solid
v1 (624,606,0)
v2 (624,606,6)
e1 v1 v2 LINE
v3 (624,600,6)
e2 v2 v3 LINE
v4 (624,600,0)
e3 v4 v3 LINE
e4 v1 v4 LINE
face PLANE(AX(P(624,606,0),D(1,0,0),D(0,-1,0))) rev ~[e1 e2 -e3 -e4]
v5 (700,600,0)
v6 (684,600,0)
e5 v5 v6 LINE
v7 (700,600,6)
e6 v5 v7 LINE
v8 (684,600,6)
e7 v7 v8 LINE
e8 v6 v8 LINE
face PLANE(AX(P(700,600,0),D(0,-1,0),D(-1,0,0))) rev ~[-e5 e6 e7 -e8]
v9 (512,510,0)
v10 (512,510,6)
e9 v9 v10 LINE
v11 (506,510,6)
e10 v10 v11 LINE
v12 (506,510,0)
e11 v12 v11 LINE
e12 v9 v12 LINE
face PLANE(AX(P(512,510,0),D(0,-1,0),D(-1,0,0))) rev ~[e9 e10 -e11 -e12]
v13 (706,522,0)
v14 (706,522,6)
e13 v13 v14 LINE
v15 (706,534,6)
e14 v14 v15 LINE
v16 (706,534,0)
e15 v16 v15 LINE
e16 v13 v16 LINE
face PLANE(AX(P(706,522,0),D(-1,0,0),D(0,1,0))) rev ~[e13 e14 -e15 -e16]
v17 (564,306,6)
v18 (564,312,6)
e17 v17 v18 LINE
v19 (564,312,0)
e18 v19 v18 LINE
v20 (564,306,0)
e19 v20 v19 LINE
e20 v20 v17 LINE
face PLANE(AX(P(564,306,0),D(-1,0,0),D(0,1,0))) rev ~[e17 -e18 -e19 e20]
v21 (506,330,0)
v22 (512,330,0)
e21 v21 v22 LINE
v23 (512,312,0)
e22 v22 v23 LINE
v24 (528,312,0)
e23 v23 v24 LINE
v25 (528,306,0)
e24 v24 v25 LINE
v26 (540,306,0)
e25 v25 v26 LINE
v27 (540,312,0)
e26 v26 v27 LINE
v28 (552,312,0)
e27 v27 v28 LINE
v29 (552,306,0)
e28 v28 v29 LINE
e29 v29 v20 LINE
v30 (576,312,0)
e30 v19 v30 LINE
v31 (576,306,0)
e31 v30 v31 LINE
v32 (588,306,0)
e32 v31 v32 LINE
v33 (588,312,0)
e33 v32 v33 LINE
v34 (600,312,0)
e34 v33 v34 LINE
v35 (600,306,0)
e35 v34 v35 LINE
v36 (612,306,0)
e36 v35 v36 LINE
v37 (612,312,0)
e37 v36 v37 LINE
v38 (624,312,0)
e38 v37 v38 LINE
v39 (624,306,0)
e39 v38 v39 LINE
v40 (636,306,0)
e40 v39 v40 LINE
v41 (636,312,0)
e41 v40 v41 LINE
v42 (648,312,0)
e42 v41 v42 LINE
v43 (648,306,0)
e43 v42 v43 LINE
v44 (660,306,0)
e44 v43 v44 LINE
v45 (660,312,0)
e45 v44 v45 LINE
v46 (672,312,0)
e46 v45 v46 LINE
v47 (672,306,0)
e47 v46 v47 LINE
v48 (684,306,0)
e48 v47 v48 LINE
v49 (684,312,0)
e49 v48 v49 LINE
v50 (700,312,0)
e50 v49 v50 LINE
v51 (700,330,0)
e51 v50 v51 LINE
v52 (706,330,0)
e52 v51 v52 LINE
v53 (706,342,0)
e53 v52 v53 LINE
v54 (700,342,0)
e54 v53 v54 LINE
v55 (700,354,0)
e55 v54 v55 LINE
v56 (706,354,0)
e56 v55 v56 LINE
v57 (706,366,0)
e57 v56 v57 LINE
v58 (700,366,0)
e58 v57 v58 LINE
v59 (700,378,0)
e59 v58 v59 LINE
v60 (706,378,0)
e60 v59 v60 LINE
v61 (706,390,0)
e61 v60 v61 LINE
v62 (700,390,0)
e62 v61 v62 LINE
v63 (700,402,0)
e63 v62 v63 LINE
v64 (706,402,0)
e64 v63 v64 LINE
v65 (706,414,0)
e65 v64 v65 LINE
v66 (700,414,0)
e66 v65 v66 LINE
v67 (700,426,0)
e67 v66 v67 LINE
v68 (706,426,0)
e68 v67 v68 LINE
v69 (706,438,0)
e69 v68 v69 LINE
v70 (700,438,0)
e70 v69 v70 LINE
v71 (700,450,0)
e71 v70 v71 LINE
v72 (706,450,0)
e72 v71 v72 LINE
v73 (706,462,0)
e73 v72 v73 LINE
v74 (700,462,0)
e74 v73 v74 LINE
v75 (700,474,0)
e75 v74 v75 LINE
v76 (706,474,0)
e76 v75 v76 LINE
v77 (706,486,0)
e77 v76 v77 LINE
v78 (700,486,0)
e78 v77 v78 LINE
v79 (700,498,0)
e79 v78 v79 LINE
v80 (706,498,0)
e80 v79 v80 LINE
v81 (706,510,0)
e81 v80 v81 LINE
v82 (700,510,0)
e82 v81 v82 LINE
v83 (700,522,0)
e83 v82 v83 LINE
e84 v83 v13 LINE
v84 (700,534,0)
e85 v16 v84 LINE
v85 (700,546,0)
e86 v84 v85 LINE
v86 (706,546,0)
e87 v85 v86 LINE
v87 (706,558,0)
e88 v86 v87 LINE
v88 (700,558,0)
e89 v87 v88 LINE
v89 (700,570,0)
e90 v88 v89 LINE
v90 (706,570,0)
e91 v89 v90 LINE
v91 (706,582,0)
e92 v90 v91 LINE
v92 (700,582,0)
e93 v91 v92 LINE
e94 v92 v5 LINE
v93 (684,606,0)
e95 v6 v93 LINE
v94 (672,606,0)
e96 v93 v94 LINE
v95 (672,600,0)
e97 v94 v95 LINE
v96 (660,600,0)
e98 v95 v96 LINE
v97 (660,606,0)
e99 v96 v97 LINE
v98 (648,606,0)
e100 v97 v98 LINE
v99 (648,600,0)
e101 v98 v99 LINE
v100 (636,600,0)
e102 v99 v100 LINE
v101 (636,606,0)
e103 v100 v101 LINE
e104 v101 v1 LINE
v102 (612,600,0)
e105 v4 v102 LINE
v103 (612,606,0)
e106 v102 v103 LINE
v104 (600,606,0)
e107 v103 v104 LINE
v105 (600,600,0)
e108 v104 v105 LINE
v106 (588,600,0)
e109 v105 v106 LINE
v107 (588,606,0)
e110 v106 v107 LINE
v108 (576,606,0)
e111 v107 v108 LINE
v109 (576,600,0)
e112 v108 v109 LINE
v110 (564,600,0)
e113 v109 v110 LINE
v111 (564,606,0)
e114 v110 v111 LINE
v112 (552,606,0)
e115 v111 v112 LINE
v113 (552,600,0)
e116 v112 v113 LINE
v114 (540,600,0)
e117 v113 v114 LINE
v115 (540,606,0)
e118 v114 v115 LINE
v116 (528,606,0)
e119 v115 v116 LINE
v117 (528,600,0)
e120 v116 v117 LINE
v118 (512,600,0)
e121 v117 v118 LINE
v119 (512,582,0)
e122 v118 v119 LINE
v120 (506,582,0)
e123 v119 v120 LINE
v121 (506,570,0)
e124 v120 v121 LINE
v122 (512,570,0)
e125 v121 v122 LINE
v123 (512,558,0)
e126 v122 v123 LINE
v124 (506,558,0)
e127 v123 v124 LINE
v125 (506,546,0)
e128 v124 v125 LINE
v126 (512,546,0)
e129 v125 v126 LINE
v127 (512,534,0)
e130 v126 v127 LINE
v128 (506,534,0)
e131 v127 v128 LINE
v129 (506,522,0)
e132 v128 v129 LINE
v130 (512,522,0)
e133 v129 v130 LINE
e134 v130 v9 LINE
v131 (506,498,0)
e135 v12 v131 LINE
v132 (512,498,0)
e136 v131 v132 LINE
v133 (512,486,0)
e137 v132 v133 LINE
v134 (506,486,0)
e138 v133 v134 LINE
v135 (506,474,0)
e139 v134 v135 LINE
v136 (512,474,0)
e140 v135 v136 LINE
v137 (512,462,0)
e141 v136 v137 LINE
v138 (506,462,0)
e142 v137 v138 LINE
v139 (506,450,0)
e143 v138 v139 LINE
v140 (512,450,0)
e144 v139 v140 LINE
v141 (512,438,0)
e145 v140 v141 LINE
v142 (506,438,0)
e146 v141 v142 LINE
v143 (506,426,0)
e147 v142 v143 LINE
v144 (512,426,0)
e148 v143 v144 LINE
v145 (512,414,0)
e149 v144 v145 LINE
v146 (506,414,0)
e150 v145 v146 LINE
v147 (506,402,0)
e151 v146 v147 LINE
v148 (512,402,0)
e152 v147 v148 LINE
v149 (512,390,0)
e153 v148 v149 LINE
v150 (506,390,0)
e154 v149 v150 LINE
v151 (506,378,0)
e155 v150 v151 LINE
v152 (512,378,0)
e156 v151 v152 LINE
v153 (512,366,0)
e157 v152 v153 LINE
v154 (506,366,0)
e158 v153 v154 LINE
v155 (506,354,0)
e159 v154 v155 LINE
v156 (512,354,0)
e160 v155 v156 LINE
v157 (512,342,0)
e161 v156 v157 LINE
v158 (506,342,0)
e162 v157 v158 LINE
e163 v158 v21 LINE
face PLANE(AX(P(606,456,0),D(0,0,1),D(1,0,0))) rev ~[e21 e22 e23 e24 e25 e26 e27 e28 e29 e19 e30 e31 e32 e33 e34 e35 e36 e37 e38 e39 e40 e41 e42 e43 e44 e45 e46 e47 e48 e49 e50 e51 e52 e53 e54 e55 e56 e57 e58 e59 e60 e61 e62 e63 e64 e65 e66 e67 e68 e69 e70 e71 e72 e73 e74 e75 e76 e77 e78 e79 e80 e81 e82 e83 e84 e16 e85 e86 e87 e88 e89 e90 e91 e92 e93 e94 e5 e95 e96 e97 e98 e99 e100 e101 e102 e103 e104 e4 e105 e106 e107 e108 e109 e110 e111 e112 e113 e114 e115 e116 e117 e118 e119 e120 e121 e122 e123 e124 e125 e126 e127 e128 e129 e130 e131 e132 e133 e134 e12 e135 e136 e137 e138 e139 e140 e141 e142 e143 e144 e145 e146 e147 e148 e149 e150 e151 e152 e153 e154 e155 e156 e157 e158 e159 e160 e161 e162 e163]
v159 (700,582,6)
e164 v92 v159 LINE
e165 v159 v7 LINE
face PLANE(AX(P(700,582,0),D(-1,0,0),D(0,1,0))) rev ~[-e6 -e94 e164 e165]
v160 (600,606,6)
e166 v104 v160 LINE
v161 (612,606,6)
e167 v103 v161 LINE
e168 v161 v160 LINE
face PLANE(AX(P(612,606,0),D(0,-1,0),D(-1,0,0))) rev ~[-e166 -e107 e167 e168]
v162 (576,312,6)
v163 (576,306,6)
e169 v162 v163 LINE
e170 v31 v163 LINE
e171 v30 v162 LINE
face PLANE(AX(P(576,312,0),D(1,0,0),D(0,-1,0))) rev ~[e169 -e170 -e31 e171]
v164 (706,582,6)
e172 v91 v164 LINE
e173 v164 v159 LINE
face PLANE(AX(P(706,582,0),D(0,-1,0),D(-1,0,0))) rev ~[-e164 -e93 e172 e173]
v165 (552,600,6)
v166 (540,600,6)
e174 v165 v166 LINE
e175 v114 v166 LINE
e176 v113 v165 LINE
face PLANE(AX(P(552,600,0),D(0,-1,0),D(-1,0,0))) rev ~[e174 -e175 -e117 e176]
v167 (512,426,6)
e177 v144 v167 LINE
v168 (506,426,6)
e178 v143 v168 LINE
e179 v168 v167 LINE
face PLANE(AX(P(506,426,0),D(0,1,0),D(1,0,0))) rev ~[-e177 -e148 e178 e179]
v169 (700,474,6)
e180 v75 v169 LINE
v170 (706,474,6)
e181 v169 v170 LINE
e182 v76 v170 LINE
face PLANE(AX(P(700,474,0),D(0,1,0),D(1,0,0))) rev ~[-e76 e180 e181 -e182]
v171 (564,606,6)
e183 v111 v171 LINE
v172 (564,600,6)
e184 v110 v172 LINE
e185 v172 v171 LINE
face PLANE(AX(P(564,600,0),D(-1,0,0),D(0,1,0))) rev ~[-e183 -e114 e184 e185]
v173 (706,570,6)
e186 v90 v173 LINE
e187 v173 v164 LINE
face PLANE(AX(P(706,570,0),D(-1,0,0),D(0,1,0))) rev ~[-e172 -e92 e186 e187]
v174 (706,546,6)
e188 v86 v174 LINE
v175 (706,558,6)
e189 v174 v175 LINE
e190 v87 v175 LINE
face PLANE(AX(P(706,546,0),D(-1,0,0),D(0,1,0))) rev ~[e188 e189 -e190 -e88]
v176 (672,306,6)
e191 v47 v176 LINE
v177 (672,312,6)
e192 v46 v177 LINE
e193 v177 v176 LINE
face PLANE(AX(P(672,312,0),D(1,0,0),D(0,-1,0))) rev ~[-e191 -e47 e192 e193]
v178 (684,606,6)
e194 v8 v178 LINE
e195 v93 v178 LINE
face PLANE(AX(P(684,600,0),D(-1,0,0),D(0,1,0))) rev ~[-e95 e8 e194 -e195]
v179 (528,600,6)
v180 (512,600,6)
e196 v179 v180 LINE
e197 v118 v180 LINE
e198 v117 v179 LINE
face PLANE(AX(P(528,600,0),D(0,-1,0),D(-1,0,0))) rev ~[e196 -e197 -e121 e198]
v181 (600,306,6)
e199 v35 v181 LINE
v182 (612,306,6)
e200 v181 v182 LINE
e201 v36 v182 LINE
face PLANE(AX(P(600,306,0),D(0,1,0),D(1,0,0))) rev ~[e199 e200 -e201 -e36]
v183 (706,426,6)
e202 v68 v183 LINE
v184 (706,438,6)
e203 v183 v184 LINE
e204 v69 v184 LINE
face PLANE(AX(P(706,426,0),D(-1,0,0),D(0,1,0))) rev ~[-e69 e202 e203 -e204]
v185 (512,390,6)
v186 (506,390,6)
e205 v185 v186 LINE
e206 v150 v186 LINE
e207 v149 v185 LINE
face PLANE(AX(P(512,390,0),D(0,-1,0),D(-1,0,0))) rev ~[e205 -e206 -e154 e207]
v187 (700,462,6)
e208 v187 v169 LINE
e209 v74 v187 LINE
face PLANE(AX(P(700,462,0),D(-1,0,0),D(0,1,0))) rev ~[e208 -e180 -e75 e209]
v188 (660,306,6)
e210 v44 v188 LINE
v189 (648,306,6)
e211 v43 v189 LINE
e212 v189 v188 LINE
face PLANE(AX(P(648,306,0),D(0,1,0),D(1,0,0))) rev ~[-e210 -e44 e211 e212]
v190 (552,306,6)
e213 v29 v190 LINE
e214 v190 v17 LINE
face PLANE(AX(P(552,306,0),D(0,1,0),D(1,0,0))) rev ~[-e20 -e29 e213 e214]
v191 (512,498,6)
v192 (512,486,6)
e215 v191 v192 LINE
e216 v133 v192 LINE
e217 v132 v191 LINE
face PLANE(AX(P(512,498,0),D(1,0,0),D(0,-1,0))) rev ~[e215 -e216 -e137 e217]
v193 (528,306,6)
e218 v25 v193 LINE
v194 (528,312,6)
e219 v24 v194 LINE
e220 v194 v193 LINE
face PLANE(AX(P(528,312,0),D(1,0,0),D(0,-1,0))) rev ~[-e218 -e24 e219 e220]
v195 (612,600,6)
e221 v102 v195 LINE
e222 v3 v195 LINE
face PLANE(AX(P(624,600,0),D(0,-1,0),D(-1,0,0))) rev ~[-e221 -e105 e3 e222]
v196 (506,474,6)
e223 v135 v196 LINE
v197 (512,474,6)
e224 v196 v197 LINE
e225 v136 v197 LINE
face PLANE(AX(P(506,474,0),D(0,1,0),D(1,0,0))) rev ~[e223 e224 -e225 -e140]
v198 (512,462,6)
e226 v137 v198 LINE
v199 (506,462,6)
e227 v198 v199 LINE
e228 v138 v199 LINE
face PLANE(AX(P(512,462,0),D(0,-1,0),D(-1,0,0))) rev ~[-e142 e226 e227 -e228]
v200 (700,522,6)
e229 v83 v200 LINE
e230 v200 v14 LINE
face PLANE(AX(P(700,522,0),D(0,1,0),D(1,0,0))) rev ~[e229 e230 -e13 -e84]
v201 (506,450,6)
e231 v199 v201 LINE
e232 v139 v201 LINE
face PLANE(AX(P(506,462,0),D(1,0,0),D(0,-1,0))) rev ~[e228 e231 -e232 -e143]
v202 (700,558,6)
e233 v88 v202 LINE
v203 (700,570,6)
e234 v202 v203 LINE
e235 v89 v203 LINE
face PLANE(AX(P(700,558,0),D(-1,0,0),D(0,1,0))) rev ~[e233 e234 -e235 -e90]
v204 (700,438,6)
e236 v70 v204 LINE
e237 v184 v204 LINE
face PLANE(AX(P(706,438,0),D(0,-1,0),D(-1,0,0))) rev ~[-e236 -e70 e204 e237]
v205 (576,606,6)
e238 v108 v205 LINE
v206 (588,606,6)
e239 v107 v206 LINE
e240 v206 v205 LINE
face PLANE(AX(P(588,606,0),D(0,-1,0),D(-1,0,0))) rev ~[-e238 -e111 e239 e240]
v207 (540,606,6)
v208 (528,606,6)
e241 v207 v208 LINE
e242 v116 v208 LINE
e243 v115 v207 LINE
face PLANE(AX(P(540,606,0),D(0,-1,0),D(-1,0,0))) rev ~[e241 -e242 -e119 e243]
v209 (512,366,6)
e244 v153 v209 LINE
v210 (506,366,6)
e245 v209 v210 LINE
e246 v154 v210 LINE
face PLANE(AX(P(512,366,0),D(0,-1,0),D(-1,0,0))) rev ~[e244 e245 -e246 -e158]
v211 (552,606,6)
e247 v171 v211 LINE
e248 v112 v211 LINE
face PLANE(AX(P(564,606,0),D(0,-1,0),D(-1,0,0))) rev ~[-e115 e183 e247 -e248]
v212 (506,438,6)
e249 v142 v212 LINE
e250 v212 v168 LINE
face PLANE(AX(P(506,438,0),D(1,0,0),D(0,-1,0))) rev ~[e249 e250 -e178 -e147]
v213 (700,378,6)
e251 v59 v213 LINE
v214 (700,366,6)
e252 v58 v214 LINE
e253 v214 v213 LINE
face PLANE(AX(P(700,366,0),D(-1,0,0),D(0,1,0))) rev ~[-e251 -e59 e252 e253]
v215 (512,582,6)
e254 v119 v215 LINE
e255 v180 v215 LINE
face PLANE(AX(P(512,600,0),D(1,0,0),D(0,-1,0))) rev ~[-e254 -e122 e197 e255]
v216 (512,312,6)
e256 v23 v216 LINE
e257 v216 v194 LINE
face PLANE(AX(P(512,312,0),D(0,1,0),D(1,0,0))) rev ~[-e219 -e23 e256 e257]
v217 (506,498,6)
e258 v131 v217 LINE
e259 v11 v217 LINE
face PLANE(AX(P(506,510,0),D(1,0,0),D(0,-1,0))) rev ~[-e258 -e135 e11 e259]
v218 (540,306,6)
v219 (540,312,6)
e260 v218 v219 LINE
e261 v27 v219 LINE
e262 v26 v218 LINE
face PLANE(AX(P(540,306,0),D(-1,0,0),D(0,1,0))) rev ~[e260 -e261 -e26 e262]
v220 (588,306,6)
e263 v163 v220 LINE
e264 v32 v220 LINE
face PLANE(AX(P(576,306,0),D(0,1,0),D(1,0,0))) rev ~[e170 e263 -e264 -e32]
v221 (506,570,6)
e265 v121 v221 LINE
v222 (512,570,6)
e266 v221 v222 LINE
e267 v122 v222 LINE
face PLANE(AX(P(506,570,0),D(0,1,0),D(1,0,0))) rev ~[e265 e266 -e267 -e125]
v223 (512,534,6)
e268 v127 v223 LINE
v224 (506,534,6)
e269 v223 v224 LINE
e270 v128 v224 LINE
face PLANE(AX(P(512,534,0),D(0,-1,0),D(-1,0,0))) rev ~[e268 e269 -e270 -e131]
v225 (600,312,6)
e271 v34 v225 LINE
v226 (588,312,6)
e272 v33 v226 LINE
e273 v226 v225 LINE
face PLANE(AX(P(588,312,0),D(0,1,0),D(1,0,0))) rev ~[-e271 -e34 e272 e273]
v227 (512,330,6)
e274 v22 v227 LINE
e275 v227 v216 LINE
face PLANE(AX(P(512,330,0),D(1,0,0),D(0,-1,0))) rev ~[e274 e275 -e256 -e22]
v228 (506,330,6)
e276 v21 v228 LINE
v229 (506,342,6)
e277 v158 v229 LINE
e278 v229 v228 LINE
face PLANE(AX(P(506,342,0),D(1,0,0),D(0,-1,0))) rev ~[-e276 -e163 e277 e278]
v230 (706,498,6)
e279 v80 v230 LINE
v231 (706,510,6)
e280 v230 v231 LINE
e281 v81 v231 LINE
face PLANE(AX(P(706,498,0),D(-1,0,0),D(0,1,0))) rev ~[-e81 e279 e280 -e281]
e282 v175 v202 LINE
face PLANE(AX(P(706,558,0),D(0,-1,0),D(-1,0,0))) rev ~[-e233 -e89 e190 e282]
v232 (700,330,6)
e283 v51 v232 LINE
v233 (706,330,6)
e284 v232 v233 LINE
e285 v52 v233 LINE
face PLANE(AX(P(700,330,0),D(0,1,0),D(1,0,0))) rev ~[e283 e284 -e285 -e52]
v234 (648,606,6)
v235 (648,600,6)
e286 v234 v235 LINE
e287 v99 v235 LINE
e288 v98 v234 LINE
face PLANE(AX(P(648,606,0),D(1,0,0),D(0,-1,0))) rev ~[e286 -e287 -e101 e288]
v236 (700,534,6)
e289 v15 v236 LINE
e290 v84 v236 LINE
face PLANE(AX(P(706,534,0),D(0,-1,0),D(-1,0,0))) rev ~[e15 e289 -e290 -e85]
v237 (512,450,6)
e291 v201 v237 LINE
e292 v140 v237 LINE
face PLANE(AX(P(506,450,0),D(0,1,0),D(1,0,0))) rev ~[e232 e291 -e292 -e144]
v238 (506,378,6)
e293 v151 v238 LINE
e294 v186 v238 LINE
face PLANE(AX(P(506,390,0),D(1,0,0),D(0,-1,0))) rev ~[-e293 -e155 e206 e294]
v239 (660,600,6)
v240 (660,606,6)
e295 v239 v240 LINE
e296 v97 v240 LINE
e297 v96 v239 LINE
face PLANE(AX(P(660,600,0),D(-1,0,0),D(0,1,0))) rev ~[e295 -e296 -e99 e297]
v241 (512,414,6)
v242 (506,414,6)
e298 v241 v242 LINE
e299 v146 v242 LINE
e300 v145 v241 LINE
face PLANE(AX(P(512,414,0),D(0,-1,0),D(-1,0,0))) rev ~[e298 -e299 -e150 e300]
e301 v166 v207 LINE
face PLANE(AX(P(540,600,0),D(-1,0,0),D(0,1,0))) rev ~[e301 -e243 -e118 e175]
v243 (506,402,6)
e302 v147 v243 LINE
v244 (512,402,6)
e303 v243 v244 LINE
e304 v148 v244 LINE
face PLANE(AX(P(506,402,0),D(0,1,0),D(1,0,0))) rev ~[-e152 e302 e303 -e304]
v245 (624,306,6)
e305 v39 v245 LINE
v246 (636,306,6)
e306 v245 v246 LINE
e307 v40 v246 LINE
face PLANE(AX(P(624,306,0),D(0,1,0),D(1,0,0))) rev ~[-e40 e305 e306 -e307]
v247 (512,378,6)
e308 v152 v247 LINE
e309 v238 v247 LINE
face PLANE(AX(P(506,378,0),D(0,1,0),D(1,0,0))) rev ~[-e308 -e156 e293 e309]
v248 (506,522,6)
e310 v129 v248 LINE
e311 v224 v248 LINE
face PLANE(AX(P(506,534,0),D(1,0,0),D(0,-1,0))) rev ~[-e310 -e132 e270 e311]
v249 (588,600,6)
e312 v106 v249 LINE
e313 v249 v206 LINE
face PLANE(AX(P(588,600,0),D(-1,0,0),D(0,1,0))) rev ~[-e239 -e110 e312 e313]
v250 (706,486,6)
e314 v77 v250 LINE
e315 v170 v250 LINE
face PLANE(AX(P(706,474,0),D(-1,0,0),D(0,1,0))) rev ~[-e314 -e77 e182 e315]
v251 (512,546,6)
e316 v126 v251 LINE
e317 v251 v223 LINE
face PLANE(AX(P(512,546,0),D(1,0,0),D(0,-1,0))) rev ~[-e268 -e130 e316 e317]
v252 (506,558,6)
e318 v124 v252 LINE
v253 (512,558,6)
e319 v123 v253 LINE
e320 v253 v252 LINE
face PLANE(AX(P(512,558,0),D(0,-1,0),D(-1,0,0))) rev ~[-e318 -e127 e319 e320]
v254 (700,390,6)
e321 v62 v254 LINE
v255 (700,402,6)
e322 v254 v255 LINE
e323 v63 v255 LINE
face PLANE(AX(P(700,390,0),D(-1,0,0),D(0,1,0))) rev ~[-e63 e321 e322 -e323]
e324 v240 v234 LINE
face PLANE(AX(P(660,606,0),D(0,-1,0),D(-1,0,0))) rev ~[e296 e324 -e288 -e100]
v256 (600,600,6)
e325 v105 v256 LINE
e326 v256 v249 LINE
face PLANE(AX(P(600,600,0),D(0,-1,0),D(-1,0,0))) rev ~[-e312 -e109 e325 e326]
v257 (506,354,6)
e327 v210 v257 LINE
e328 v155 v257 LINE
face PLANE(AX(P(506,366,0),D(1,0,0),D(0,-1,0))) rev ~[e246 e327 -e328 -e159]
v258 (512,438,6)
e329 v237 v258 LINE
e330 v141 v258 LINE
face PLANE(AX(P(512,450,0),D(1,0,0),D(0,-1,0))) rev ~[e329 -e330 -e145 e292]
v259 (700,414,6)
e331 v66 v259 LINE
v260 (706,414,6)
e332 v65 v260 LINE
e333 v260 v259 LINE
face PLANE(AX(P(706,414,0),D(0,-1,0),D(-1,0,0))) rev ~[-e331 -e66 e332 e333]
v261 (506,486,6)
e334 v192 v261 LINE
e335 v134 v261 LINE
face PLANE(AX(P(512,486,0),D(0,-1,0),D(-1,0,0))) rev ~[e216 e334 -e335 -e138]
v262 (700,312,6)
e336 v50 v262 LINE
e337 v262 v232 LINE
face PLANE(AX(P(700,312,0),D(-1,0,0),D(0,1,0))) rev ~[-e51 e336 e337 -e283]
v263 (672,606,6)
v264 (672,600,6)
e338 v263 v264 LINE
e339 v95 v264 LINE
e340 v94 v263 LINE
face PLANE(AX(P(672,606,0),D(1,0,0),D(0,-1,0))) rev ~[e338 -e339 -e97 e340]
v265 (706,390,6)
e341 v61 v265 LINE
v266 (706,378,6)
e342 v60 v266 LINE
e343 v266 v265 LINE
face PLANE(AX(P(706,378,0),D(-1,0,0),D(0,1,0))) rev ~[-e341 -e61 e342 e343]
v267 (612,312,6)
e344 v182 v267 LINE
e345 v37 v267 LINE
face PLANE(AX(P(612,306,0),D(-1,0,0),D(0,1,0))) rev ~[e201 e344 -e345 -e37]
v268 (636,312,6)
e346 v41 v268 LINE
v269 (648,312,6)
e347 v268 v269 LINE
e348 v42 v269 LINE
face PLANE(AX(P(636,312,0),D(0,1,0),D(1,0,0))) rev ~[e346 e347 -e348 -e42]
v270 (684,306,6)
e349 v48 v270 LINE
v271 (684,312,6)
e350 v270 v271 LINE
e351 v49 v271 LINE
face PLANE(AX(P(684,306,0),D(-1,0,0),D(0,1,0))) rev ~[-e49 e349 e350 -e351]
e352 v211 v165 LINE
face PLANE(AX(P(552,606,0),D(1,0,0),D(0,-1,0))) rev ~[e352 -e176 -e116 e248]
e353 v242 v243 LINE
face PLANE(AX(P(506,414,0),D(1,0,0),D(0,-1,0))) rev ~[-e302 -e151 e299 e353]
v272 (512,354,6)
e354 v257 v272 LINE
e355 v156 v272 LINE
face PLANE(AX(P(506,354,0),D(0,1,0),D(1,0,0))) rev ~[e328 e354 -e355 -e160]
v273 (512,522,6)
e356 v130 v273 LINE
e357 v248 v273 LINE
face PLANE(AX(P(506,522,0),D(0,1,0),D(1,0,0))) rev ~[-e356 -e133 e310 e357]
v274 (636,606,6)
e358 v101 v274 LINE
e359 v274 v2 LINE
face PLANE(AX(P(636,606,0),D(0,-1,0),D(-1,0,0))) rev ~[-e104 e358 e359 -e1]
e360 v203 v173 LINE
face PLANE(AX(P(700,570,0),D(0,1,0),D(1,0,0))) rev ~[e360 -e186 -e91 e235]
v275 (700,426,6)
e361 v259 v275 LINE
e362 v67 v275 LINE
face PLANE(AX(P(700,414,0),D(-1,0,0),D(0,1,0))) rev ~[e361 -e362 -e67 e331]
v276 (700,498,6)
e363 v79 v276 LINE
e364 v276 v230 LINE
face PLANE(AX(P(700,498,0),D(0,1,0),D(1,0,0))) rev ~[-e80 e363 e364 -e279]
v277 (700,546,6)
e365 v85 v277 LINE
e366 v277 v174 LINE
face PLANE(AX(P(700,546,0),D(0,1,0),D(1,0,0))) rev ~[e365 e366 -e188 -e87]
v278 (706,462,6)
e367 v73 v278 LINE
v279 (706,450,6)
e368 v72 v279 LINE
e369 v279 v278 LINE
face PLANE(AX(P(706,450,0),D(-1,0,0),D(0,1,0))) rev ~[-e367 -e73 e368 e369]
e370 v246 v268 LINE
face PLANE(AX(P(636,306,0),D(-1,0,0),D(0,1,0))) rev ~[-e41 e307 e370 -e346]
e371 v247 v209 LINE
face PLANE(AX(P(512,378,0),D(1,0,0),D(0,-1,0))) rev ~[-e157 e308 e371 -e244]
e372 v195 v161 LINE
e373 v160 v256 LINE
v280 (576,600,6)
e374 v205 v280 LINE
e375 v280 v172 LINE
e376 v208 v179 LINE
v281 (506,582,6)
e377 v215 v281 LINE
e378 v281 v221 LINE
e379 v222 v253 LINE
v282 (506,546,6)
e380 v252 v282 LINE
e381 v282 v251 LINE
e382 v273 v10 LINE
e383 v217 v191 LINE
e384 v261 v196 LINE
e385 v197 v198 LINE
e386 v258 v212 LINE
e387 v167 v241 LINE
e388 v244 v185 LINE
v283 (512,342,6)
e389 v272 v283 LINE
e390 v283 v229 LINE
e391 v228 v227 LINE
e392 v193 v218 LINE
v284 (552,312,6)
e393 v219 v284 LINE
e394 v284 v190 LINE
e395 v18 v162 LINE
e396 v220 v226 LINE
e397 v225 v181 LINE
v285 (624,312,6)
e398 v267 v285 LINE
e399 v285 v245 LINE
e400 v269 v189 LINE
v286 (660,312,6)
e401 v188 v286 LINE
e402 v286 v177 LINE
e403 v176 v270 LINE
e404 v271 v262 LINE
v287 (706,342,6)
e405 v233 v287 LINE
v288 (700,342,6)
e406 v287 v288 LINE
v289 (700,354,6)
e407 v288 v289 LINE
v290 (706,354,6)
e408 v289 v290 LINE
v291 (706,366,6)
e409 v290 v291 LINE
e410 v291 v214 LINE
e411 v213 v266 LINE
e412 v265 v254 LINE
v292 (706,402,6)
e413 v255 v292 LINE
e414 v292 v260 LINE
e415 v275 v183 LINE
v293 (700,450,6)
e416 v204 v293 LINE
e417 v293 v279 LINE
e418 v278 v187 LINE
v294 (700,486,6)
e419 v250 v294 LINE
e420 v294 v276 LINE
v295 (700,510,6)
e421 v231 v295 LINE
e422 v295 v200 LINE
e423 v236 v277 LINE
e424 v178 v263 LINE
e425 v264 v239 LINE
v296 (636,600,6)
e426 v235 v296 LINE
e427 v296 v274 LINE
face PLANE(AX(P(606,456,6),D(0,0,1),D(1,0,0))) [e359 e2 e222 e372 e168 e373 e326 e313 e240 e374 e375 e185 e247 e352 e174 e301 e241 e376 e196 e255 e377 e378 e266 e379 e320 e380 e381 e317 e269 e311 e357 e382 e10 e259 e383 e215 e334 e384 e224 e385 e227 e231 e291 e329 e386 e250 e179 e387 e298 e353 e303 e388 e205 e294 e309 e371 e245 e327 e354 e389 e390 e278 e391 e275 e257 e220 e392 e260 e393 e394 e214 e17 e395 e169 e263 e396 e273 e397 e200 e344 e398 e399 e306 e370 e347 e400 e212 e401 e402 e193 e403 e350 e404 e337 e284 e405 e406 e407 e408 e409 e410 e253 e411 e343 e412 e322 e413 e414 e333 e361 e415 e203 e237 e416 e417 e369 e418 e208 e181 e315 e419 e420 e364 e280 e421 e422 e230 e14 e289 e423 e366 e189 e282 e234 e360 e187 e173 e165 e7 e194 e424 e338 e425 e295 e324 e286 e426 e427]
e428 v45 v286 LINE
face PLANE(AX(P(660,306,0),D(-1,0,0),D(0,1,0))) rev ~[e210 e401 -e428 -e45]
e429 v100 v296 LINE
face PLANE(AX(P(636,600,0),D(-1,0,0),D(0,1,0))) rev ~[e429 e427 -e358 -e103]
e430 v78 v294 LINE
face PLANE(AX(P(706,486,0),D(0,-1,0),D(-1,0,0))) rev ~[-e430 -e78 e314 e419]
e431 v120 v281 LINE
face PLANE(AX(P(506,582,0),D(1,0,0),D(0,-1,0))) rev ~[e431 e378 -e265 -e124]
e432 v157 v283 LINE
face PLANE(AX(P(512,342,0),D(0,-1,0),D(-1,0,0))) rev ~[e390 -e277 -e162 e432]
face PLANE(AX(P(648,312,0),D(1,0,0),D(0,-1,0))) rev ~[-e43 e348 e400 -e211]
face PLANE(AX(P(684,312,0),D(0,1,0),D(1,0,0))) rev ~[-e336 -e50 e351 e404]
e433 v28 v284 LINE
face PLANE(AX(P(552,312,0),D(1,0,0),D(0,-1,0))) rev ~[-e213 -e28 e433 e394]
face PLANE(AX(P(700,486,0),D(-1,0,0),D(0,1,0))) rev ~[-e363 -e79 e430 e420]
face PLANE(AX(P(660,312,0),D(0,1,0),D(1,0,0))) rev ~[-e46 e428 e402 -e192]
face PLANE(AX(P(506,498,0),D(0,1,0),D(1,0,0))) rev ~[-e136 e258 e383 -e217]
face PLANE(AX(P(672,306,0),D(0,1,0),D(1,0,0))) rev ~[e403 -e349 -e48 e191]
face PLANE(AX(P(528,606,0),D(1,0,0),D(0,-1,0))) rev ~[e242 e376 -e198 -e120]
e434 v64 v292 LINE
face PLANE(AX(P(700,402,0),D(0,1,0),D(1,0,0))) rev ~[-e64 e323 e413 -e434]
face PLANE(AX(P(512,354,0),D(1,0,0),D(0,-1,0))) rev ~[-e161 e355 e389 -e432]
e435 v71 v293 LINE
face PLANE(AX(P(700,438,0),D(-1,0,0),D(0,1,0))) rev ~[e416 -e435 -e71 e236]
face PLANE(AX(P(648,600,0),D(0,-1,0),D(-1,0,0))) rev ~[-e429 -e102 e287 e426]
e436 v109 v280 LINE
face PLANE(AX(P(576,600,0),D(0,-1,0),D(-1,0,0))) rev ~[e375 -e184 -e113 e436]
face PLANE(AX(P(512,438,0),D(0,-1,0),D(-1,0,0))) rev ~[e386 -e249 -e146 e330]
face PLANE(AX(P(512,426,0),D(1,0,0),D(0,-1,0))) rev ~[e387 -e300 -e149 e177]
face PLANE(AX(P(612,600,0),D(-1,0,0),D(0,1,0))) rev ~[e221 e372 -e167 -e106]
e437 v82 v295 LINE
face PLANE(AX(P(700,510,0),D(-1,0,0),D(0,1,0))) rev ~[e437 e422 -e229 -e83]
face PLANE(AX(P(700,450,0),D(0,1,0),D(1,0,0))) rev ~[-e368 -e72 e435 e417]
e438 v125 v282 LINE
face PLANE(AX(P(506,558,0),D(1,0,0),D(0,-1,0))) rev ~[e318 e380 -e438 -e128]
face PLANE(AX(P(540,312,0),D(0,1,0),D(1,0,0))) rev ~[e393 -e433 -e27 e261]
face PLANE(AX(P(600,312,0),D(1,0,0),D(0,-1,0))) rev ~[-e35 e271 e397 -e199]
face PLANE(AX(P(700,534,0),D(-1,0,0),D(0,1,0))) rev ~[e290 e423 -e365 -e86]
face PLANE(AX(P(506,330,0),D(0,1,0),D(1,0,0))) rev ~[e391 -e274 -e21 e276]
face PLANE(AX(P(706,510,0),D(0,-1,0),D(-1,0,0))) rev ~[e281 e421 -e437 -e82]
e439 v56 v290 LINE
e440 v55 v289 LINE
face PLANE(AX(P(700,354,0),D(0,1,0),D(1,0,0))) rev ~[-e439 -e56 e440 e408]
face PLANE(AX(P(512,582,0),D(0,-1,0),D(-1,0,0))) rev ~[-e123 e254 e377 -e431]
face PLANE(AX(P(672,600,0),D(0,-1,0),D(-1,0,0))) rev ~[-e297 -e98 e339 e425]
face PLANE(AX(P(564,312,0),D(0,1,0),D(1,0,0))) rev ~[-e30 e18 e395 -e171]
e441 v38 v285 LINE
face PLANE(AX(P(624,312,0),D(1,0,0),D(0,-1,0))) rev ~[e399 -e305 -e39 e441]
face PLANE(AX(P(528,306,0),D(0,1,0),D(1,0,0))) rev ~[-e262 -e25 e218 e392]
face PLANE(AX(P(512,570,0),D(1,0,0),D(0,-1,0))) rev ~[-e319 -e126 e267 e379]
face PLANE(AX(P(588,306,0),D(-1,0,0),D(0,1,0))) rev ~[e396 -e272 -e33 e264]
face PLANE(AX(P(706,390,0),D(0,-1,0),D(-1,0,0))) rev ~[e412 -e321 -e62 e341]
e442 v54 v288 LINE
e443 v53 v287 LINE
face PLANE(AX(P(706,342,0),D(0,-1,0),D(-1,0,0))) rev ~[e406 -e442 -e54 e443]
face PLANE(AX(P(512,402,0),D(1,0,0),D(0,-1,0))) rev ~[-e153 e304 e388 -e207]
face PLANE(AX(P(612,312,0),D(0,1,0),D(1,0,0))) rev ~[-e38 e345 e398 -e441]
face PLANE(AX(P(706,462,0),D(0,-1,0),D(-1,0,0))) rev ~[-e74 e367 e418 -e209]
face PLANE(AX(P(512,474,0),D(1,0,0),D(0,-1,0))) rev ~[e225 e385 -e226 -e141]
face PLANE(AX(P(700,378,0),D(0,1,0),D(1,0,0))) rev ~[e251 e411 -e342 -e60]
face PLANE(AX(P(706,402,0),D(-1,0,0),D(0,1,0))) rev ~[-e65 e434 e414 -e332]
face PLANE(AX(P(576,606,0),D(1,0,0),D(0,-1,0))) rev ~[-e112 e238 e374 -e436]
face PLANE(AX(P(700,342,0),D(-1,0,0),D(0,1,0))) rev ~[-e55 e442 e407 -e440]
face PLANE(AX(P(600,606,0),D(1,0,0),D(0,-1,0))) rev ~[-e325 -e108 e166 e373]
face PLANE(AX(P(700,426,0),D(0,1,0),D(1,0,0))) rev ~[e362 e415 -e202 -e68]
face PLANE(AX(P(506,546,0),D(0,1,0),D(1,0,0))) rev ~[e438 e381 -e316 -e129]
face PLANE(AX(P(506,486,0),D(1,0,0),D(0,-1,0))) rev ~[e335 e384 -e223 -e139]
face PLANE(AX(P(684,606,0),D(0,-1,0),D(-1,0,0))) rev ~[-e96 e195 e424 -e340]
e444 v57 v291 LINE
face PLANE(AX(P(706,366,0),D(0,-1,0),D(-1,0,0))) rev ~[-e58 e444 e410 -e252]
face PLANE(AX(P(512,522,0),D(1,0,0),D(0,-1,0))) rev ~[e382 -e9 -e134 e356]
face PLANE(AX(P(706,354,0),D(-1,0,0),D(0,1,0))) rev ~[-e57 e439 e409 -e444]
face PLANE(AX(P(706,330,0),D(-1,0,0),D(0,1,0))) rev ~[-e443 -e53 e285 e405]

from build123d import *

# Parameters (mm, degrees)
BOSS_EXTRUDE1_DEPTH = 6


with BuildPart() as part:
    # Model → Boss-Extrude1 (new body)
    with BuildSketch(Plane.XY):
        Polygon((512, 600), (512, 582), (506, 582), (506, 570), (512, 570), (512, 558), (506, 558), (506, 546), (512, 546), (512, 534), (506, 534), (506, 522), (512, 522), (512, 510), (506, 510), (506, 498), (512, 498), (512, 486), (506, 486), (506, 474), (512, 474), (512, 462), (506, 462), (506, 450), (512, 450), (512, 438), (506, 438), (506, 426), (512, 426), (512, 414), (506, 414), (506, 402), (512, 402), (512, 390), (506, 390), (506, 378), (512, 378), (512, 366), (506, 366), (506, 354), (512, 354), (512, 342), (506, 342), (506, 330), (512, 330), (512, 318), (512, 312), (528, 312), (528, 306), (540, 306), (540, 312), (552, 312), (552, 306), (564, 306), (564, 312), (576, 312), (576, 306), (588, 306), (588, 312), (600, 312), (600, 306), (612, 306), (612, 312), (624, 312), (624, 306), (636, 306), (636, 312), (648, 312), (648, 306), (660, 306), (660, 312), (672, 312), (672, 306), (684, 306), (684, 312), (696, 312), (700, 312), (700, 330), (706, 330), (706, 342), (700, 342), (700, 354), (706, 354), (706, 366), (700, 366), (700, 378), (706, 378), (706, 390), (700, 390), (700, 402), (706, 402), (706, 414), (700, 414), (700, 426), (706, 426), (706, 438), (700, 438), (700, 450), (706, 450), (706, 462), (700, 462), (700, 474), (706, 474), (706, 486), (700, 486), (700, 498), (706, 498), (706, 510), (700, 510), (700, 522), (706, 522), (706, 534), (700, 534), (700, 546), (706, 546), (706, 558), (700, 558), (700, 570), (706, 570), (706, 582), (700, 582), (700, 594), (700, 600), (684, 600), (684, 606), (672, 606), (672, 600), (660, 600), (660, 606), (648, 606), (648, 600), (636, 600), (636, 606), (624, 606), (624, 600), (612, 600), (612, 606), (600, 606), (600, 600), (588, 600), (588, 606), (576, 606), (576, 600), (564, 600), (564, 606), (552, 606), (552, 600), (540, 600), (540, 606), (528, 606), (528, 600), (516, 600), align=None)
    extrude(amount=BOSS_EXTRUDE1_DEPTH)


solid = part.part
